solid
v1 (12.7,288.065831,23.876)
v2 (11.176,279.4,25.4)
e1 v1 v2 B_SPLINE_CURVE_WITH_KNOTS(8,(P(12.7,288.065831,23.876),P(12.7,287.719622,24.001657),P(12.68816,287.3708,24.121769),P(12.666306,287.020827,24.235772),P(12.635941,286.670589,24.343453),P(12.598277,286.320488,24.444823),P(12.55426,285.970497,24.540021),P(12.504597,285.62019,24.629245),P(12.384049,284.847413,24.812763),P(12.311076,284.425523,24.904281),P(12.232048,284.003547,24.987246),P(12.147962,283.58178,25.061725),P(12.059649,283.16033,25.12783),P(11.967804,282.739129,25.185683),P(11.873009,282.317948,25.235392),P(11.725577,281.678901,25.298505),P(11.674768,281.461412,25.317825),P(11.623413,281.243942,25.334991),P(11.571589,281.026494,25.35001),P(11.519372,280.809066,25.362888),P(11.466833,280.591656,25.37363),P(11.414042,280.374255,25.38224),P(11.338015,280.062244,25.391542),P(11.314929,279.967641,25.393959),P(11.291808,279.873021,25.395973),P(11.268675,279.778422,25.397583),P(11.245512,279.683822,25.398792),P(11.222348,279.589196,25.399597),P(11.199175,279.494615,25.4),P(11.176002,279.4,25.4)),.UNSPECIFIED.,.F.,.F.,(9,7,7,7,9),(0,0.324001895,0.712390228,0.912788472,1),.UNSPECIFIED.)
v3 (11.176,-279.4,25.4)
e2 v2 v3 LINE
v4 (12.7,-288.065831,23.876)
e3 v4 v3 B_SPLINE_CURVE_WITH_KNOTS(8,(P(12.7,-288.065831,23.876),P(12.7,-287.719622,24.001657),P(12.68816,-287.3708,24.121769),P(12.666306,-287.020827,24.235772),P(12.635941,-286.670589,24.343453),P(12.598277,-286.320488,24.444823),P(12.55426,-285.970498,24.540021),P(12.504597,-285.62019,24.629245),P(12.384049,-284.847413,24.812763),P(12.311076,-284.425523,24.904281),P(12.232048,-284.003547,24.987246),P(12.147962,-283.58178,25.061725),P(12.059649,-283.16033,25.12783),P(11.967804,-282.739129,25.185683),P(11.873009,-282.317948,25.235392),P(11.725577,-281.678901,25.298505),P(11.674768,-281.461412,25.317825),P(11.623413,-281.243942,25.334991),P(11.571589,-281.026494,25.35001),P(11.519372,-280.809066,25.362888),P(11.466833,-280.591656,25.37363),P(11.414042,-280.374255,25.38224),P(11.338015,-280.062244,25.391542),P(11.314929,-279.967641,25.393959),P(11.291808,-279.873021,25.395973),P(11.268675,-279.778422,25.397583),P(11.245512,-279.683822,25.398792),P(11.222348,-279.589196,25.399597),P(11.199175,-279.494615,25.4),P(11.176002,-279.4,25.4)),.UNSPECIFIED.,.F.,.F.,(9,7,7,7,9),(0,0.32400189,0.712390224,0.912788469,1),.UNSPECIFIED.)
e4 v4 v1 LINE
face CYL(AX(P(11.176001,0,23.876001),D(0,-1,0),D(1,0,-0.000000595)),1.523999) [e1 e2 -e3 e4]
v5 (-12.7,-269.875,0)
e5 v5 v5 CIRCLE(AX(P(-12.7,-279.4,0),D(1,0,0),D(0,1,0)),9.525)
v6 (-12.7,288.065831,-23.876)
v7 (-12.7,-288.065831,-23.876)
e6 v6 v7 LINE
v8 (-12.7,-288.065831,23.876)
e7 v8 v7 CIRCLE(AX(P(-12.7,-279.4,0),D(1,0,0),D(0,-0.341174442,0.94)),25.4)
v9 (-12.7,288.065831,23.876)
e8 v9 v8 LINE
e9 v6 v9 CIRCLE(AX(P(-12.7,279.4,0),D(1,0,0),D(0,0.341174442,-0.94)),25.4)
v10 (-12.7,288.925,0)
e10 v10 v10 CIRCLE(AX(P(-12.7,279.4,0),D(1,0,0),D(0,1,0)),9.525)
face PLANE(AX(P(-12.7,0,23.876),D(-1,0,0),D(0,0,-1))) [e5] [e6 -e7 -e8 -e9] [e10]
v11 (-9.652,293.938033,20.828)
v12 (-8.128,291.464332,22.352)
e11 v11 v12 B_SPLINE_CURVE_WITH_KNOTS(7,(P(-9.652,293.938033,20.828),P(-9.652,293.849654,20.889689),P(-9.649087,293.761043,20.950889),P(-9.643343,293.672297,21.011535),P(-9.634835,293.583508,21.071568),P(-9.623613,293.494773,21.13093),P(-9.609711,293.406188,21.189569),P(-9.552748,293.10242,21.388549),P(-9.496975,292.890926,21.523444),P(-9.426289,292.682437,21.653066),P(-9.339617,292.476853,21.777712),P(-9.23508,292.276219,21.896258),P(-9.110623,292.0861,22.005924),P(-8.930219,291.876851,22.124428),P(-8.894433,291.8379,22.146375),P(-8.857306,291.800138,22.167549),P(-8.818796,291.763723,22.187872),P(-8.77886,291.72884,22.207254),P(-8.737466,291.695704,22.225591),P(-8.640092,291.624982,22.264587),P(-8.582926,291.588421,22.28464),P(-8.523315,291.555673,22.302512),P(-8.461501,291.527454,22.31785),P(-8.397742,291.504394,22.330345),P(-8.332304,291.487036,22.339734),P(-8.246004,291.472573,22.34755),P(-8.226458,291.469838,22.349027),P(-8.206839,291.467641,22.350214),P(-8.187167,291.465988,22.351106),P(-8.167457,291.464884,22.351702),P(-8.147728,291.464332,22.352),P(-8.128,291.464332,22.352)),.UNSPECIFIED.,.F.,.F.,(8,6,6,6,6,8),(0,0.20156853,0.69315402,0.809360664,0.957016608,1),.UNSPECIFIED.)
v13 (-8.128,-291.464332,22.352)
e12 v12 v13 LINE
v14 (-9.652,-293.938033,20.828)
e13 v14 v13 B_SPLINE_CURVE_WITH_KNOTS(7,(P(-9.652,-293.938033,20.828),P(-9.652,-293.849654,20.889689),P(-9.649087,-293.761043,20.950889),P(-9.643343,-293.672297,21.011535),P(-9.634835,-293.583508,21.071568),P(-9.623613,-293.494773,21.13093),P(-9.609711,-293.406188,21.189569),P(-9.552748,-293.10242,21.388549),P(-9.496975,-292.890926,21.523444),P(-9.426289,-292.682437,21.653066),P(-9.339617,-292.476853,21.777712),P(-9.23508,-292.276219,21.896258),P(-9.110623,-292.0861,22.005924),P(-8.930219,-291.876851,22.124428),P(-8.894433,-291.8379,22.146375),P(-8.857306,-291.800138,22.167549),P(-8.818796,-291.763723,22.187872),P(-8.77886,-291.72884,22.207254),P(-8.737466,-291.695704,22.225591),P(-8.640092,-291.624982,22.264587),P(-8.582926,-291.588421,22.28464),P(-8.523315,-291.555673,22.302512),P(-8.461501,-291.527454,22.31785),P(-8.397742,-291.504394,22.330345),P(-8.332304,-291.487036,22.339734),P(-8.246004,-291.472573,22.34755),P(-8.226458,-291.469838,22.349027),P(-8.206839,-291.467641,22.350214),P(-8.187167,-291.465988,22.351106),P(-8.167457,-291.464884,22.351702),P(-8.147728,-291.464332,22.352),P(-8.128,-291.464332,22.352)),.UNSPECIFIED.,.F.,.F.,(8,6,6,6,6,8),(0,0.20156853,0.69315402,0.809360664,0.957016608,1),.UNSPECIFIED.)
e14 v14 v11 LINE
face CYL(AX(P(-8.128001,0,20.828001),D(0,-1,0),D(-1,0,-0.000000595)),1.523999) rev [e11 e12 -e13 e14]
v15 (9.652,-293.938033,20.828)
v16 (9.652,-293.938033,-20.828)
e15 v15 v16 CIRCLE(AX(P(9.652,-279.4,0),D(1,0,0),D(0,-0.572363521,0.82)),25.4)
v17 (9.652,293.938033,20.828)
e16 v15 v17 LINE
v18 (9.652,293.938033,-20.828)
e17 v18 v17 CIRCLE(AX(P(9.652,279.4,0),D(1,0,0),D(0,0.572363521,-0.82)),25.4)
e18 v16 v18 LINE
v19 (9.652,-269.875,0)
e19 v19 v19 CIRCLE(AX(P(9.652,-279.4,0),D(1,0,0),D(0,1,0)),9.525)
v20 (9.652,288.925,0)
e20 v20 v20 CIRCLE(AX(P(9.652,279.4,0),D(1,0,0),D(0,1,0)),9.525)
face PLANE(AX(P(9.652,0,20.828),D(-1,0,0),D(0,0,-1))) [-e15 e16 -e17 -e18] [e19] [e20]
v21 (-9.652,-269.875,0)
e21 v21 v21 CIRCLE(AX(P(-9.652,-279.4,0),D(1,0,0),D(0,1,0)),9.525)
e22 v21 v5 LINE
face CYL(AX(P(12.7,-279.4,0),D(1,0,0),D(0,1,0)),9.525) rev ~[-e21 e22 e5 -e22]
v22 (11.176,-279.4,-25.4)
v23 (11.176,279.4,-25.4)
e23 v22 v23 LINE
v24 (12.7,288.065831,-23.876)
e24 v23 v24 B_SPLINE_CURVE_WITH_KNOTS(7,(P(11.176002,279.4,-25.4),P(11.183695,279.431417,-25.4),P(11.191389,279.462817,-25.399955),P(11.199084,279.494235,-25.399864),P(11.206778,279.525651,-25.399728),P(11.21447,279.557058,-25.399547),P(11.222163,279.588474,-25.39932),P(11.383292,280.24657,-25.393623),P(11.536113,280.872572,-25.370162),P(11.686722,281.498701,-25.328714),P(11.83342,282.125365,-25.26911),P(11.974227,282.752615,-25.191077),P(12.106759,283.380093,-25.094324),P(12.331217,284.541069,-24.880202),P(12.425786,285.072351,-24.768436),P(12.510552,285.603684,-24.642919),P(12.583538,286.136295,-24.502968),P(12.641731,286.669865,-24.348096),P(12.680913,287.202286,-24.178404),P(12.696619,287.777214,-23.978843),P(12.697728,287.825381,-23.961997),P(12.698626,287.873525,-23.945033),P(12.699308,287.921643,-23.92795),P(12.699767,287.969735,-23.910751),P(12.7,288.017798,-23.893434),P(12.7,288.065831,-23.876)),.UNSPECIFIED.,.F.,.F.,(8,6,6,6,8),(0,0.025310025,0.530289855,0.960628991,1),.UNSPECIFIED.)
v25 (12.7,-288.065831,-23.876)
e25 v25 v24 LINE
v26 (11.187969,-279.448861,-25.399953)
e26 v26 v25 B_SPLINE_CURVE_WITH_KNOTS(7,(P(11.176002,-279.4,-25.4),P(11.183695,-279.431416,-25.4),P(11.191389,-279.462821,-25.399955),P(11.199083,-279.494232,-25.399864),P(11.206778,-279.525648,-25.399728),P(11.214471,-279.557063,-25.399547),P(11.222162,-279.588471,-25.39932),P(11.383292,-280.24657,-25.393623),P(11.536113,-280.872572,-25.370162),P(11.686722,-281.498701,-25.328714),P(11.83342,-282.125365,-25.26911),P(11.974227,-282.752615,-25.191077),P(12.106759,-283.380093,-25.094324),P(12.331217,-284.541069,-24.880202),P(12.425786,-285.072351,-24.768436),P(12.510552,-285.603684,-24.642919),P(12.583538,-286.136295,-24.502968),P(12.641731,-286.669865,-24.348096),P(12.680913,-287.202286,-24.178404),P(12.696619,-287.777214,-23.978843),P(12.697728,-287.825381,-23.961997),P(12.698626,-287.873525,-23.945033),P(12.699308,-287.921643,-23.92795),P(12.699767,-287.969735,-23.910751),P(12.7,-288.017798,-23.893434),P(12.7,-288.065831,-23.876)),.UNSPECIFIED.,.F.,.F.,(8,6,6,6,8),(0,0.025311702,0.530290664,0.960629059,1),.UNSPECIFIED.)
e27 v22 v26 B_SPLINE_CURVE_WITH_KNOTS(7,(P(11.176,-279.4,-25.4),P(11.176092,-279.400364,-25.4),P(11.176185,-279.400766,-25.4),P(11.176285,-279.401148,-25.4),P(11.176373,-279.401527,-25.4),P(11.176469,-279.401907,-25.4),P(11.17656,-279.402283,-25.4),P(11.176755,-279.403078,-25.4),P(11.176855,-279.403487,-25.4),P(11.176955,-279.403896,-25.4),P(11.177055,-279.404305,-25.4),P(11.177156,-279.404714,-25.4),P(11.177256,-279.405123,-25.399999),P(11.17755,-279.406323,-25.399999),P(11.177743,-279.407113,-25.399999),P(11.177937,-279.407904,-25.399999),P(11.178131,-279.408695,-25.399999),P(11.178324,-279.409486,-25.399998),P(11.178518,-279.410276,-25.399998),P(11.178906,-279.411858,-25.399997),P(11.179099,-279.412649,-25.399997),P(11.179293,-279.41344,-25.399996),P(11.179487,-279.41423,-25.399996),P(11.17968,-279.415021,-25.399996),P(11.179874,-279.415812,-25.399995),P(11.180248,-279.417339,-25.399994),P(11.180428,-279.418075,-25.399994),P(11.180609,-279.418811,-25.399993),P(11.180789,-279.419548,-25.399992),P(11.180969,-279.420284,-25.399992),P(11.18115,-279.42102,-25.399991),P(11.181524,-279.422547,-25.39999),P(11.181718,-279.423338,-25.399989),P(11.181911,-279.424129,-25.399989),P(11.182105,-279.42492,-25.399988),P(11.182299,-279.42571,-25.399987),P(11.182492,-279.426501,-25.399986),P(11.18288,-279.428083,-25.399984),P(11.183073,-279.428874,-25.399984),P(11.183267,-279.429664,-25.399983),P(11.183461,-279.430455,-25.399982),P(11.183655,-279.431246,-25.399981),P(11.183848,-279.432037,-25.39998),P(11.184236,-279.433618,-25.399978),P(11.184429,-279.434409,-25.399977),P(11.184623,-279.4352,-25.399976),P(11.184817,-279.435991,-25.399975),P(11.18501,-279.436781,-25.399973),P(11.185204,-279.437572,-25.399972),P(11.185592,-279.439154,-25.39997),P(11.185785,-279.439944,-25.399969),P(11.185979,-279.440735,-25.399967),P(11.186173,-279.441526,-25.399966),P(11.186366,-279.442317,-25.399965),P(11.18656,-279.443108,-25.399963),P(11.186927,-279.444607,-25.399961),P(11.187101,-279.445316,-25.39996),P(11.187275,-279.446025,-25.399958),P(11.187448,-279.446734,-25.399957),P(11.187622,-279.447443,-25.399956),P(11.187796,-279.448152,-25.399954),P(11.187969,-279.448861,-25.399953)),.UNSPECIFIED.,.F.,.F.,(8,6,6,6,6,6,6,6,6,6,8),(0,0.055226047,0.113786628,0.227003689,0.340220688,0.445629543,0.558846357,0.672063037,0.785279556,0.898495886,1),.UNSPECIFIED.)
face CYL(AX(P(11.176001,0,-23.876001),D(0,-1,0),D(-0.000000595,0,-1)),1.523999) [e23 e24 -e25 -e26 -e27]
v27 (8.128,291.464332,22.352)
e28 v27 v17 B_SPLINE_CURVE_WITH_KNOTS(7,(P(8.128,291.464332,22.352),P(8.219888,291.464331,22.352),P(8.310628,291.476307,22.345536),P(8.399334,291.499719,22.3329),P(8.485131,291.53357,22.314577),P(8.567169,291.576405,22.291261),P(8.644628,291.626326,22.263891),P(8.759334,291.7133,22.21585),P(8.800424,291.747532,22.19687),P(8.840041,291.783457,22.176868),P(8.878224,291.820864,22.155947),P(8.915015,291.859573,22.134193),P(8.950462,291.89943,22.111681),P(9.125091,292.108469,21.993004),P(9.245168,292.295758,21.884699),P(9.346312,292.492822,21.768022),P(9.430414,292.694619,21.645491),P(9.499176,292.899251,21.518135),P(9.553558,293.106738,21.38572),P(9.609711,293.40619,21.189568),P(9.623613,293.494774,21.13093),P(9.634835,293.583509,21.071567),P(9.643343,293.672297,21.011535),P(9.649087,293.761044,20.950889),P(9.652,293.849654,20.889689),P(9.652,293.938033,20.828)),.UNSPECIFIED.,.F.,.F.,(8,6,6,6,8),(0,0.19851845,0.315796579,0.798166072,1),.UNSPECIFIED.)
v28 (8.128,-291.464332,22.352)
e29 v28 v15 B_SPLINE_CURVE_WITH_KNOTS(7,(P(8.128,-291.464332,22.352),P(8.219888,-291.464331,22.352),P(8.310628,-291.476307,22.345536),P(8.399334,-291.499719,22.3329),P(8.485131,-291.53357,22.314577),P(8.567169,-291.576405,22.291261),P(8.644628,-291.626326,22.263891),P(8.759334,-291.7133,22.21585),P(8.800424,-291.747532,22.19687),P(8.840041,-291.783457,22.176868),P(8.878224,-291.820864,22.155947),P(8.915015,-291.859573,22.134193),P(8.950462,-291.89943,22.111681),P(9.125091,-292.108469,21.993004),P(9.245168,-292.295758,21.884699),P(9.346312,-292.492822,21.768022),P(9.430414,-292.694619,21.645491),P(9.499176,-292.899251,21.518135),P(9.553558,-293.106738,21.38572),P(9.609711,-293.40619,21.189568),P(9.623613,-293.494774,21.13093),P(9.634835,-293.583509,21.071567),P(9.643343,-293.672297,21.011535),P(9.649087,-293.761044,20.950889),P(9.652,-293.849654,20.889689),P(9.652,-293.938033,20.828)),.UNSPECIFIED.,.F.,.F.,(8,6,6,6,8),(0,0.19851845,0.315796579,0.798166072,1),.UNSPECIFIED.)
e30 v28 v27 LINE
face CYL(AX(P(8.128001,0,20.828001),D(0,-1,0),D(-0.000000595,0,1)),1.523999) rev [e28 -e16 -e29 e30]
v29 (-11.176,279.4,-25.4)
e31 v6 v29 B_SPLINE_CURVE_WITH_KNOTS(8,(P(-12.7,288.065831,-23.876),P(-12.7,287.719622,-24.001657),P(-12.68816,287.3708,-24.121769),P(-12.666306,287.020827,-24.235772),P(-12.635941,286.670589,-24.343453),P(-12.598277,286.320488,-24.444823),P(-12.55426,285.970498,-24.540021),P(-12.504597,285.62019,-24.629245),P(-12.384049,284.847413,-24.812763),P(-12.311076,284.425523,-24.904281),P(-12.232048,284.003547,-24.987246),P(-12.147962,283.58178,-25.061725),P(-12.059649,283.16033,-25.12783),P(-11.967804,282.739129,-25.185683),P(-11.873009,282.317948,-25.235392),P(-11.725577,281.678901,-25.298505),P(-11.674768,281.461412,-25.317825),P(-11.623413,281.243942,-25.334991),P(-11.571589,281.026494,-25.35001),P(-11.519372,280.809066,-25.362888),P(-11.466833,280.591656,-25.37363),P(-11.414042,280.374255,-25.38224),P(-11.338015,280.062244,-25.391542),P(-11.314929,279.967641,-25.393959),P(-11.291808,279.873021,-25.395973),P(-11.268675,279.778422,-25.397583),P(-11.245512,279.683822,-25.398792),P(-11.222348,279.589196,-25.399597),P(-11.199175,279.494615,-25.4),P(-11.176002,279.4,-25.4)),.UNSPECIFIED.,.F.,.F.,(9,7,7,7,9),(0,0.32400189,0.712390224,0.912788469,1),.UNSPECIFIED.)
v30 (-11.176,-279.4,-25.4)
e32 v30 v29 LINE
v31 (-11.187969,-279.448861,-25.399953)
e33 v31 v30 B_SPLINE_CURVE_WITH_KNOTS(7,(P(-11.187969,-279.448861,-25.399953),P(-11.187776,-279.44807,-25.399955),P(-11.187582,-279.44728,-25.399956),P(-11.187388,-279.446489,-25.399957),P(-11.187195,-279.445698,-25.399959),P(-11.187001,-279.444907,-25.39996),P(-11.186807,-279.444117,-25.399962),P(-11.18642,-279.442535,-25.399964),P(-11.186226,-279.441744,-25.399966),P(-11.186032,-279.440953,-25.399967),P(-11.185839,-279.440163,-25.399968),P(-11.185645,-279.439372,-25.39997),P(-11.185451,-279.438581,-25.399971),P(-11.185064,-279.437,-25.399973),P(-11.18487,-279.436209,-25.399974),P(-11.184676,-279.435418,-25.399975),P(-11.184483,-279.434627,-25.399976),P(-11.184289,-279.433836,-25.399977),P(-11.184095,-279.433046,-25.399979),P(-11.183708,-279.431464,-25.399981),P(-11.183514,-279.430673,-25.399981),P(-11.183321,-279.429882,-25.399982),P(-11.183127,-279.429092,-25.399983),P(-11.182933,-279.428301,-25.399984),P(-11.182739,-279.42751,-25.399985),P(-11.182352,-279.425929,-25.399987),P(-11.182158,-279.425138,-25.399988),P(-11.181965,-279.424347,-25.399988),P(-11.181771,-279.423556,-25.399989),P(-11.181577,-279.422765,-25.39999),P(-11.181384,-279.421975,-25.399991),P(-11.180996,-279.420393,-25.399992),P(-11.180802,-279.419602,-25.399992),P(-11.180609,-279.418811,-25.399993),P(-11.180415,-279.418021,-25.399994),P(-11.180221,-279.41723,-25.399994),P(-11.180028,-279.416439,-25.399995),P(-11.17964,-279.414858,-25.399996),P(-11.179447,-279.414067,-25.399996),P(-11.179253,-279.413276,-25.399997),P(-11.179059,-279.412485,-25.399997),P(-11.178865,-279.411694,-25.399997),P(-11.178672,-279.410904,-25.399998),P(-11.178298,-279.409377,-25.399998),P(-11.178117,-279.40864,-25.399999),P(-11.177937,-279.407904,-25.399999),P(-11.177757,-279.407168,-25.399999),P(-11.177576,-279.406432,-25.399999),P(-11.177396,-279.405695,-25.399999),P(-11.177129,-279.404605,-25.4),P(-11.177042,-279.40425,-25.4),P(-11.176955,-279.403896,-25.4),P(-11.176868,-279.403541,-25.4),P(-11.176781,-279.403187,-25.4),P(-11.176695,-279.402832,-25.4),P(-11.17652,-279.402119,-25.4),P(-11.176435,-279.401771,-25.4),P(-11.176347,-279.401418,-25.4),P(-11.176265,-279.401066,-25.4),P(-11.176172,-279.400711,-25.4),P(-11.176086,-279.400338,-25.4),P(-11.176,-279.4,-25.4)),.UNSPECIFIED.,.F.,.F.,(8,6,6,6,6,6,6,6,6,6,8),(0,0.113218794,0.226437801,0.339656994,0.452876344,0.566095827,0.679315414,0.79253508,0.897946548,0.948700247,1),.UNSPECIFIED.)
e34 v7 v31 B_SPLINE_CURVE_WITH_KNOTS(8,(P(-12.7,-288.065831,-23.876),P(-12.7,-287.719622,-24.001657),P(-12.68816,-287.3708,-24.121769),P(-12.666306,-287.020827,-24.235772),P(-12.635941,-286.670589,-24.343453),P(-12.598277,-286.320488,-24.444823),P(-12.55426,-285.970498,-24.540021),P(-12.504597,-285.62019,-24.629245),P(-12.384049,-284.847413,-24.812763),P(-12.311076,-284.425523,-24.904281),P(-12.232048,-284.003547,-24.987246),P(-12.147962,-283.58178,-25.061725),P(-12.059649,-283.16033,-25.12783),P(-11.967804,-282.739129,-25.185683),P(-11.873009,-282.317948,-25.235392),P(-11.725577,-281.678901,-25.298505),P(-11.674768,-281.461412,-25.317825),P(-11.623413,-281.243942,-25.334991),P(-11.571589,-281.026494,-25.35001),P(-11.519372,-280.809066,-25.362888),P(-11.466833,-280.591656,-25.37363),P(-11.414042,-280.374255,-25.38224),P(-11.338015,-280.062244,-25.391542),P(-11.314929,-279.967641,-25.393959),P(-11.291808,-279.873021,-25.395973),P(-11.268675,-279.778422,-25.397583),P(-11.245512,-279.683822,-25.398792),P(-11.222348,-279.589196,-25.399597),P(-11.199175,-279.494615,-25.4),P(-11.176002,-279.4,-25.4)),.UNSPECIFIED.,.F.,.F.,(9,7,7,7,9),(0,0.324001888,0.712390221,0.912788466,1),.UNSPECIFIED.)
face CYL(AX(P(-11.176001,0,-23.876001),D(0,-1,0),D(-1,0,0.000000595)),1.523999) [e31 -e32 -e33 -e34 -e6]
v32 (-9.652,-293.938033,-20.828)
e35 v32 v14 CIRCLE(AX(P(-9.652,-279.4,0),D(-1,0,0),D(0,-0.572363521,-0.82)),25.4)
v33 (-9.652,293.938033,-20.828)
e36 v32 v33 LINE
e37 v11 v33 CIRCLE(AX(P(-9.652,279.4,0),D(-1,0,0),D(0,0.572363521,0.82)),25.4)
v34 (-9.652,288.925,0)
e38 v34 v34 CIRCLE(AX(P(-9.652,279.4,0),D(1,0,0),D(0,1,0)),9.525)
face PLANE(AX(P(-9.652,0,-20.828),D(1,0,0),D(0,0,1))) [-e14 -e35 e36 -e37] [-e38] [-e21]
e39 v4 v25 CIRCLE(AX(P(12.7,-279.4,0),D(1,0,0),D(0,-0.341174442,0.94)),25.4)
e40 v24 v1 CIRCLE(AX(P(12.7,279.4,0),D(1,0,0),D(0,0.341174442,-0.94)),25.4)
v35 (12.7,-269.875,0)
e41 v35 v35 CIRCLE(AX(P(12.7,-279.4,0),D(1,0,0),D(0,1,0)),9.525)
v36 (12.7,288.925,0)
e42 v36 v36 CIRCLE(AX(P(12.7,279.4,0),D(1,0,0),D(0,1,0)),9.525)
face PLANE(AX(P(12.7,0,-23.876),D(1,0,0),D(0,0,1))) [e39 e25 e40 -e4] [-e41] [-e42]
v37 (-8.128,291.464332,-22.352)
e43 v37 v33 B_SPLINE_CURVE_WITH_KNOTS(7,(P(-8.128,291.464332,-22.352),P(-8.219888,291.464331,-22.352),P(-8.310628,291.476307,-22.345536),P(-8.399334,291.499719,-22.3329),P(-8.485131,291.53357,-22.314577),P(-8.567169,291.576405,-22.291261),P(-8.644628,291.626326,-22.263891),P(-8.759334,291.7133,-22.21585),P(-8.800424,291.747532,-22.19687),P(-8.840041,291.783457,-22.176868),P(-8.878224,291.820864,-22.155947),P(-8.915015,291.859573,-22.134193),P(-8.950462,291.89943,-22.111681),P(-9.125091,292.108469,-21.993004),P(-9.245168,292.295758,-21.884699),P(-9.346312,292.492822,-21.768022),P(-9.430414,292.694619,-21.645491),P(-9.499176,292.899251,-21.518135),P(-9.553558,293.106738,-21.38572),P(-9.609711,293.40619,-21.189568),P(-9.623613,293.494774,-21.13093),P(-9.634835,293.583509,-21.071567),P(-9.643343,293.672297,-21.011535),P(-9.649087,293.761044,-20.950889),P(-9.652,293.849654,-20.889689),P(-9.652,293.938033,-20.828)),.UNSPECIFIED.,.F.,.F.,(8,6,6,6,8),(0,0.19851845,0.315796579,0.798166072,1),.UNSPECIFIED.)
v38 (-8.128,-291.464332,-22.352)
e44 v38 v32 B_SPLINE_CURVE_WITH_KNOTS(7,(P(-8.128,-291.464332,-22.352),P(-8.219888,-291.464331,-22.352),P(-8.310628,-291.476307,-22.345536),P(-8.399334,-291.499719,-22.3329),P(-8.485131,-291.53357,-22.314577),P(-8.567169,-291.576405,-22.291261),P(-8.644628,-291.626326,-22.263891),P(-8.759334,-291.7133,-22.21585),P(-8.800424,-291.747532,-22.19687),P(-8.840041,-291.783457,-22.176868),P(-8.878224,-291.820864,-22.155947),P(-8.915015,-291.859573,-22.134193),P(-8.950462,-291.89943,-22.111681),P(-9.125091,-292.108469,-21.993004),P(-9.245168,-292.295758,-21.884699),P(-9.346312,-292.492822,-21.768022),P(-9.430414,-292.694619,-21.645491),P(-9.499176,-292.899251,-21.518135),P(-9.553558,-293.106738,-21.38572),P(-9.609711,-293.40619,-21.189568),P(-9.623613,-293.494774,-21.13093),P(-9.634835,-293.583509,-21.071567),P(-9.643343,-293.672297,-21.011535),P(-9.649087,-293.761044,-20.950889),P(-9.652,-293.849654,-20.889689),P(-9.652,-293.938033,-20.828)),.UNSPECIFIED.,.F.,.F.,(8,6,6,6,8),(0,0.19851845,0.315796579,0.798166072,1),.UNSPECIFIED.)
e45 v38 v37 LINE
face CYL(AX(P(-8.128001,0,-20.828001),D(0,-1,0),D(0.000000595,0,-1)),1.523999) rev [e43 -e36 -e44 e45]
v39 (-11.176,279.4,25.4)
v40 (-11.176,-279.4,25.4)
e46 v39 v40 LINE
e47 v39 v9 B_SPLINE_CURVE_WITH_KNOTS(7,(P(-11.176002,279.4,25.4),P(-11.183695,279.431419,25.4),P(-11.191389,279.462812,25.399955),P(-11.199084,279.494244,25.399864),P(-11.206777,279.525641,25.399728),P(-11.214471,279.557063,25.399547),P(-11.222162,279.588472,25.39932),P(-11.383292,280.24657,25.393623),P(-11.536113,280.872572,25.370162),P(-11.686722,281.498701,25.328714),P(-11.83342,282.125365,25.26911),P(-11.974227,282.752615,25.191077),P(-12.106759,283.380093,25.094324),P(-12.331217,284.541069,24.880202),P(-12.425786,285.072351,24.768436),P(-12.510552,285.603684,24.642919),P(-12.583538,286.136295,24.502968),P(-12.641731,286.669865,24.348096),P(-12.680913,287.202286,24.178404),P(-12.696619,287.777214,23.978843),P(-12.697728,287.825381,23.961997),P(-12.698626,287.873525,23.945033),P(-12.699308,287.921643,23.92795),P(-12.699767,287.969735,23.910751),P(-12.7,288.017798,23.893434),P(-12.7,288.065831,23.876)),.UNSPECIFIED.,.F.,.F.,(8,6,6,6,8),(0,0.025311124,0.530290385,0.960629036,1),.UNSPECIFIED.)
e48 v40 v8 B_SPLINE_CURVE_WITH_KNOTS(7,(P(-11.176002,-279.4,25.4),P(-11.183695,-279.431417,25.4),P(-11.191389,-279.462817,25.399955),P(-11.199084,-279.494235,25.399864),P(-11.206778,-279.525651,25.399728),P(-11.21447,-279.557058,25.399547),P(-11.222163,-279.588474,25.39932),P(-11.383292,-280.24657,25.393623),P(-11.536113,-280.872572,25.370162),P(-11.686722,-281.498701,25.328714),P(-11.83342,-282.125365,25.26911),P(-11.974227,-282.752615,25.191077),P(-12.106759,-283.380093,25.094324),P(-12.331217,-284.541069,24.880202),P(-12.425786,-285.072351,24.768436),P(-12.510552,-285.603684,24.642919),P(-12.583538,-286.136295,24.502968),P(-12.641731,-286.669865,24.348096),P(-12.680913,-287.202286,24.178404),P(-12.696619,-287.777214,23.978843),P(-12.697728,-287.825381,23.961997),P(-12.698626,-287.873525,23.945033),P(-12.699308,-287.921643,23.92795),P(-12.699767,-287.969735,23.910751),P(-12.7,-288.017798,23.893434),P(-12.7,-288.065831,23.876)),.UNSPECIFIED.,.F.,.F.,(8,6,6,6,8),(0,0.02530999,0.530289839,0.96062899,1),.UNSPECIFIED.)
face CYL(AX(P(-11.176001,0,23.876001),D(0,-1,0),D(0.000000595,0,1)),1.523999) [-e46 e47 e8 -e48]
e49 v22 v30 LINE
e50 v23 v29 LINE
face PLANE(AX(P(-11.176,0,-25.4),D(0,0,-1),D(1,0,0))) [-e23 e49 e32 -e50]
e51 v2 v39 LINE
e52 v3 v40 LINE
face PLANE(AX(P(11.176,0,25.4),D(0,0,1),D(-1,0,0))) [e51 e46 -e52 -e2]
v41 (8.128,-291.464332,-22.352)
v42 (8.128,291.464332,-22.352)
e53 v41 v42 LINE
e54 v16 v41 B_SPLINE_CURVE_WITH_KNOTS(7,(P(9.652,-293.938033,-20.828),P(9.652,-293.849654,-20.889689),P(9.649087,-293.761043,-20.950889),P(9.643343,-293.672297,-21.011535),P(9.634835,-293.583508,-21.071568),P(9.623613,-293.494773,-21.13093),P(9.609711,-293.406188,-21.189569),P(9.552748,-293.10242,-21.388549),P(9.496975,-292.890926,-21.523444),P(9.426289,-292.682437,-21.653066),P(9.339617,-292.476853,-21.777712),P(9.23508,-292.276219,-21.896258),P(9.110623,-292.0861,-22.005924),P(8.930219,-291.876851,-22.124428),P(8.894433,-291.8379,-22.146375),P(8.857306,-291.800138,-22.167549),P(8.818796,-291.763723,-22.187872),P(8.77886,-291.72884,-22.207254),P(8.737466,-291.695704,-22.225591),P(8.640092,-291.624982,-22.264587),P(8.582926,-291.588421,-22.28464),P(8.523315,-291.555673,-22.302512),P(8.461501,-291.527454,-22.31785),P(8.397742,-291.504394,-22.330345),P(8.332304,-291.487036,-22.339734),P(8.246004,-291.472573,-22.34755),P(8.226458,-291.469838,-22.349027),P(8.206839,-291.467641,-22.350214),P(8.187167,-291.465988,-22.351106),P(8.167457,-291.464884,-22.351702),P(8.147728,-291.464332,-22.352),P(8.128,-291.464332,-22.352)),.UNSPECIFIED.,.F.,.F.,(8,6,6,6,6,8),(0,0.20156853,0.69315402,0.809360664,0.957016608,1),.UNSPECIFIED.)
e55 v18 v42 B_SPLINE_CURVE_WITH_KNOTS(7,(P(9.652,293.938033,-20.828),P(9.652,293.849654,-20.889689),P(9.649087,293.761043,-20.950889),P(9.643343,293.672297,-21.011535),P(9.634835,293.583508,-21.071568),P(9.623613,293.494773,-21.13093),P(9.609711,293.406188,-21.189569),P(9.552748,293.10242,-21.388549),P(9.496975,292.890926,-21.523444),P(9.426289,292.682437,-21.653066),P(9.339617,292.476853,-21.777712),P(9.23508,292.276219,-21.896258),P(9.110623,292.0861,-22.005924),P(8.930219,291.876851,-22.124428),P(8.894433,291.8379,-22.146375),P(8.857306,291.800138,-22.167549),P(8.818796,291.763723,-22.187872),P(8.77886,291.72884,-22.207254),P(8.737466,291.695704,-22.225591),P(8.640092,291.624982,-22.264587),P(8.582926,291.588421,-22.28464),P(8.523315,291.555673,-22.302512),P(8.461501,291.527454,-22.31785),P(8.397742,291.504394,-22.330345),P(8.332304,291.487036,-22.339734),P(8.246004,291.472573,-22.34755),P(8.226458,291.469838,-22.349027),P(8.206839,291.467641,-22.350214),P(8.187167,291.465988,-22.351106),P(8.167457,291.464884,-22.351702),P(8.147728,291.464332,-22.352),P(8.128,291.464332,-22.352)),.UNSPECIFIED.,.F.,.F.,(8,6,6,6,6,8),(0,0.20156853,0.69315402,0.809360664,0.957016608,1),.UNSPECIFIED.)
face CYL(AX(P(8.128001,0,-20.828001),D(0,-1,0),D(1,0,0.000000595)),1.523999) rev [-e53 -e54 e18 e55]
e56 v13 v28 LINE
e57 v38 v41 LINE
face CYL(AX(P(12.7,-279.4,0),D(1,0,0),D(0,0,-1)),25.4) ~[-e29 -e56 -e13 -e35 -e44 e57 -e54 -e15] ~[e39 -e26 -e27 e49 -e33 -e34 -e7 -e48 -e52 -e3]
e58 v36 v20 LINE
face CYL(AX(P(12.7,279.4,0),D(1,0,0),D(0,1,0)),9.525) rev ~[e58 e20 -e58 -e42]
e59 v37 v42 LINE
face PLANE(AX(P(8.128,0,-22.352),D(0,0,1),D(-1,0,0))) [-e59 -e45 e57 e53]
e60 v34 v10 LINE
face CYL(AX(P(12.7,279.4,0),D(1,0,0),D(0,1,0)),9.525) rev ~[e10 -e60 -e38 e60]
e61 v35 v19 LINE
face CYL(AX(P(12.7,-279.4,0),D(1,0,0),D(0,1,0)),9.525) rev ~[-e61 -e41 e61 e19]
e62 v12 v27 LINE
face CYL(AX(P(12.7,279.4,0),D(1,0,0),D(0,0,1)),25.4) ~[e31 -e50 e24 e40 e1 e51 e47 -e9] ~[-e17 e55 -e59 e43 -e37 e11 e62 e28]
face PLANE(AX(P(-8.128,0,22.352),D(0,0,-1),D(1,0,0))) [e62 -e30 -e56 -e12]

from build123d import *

# Parameters (mm, degrees)
F1_DEPTH = 304.8
F2_R     = 9.525
F3_DEPTH = 25.4
F5_DEPTH = 25.4


with BuildPart() as f1:
    # F0 (on Front) → F1 (new body, symmetric)
    with BuildSketch(Plane.XZ):
        with BuildLine():
            ThreePointArc((12.7, 23.876), (12.253631, 24.953631), (11.176, 25.4))
            Line((11.176, 25.4), (-11.176, 25.4))
            ThreePointArc((-11.176, 25.4), (-12.253631, 24.953631), (-12.7, 23.876))
            Line((-12.7, 23.876), (-12.7, -23.876))
            ThreePointArc((-12.7, -23.876), (-12.253631, -24.953631), (-11.176, -25.4))
            Line((-11.176, -25.4), (11.176, -25.4))
            ThreePointArc((11.176, -25.4), (12.253631, -24.953631), (12.7, -23.876))
            Line((12.7, -23.876), (12.7, 23.876))
        make_face()
        with BuildLine():
            Line((-8.128, 22.352), (8.128, 22.352))
            ThreePointArc((8.128, 22.352), (9.205631, 21.905631), (9.652, 20.828))
            Line((9.652, 20.828), (9.652, -20.828))
            ThreePointArc((9.652, -20.828), (9.205631, -21.905631), (8.128, -22.352))
            Line((8.128, -22.352), (-8.128, -22.352))
            ThreePointArc((-8.128, -22.352), (-9.205631, -21.905631), (-9.652, -20.828))
            Line((-9.652, -20.828), (-9.652, 20.828))
            ThreePointArc((-9.652, 20.828), (-9.205631, 21.905631), (-8.128, 22.352))
        make_face(mode=Mode.SUBTRACT)
    extrude(amount=F1_DEPTH, both=True)

    # F2 (on face) → F3 (cut)
    with BuildSketch(Plane.YZ.offset(12.7)):
        with Locations((-279.4, 0)):
            Circle(F2_R)
        with Locations((279.4, 0)):
            Circle(F2_R)
    extrude(amount=-F3_DEPTH, mode=Mode.SUBTRACT)

    # F4 (on face) → F5 (cut)
    with BuildSketch(Plane.YZ.offset(12.7)):
        with BuildLine():
            ThreePointArc((-279.4, -25.4), (-304.8, 0), (-279.4, 25.4))
            Line((-279.4, 25.4), (-279.4, 43.210469))
            Line((-279.4, 43.210469), (-315.057784, 43.210469))
            Line((-315.057784, 43.210469), (-315.057784, -40.735509))
            Line((-315.057784, -40.735509), (-279.4, -40.735509))
            Line((-279.4, -40.735509), (-279.4, -25.4))
        make_face()
        with BuildLine():
            Line((315.057784, -40.735509), (315.057784, 43.210469))
            Line((315.057784, 43.210469), (279.4, 43.210469))
            Line((279.4, 43.210469), (279.4, 25.4))
            ThreePointArc((279.4, 25.4), (304.8, 0), (279.4, -25.4))
            Line((279.4, -25.4), (279.4, -40.735509))
            Line((279.4, -40.735509), (315.057784, -40.735509))
        make_face()
    extrude(amount=-F5_DEPTH, mode=Mode.SUBTRACT)


solid = f1.part
